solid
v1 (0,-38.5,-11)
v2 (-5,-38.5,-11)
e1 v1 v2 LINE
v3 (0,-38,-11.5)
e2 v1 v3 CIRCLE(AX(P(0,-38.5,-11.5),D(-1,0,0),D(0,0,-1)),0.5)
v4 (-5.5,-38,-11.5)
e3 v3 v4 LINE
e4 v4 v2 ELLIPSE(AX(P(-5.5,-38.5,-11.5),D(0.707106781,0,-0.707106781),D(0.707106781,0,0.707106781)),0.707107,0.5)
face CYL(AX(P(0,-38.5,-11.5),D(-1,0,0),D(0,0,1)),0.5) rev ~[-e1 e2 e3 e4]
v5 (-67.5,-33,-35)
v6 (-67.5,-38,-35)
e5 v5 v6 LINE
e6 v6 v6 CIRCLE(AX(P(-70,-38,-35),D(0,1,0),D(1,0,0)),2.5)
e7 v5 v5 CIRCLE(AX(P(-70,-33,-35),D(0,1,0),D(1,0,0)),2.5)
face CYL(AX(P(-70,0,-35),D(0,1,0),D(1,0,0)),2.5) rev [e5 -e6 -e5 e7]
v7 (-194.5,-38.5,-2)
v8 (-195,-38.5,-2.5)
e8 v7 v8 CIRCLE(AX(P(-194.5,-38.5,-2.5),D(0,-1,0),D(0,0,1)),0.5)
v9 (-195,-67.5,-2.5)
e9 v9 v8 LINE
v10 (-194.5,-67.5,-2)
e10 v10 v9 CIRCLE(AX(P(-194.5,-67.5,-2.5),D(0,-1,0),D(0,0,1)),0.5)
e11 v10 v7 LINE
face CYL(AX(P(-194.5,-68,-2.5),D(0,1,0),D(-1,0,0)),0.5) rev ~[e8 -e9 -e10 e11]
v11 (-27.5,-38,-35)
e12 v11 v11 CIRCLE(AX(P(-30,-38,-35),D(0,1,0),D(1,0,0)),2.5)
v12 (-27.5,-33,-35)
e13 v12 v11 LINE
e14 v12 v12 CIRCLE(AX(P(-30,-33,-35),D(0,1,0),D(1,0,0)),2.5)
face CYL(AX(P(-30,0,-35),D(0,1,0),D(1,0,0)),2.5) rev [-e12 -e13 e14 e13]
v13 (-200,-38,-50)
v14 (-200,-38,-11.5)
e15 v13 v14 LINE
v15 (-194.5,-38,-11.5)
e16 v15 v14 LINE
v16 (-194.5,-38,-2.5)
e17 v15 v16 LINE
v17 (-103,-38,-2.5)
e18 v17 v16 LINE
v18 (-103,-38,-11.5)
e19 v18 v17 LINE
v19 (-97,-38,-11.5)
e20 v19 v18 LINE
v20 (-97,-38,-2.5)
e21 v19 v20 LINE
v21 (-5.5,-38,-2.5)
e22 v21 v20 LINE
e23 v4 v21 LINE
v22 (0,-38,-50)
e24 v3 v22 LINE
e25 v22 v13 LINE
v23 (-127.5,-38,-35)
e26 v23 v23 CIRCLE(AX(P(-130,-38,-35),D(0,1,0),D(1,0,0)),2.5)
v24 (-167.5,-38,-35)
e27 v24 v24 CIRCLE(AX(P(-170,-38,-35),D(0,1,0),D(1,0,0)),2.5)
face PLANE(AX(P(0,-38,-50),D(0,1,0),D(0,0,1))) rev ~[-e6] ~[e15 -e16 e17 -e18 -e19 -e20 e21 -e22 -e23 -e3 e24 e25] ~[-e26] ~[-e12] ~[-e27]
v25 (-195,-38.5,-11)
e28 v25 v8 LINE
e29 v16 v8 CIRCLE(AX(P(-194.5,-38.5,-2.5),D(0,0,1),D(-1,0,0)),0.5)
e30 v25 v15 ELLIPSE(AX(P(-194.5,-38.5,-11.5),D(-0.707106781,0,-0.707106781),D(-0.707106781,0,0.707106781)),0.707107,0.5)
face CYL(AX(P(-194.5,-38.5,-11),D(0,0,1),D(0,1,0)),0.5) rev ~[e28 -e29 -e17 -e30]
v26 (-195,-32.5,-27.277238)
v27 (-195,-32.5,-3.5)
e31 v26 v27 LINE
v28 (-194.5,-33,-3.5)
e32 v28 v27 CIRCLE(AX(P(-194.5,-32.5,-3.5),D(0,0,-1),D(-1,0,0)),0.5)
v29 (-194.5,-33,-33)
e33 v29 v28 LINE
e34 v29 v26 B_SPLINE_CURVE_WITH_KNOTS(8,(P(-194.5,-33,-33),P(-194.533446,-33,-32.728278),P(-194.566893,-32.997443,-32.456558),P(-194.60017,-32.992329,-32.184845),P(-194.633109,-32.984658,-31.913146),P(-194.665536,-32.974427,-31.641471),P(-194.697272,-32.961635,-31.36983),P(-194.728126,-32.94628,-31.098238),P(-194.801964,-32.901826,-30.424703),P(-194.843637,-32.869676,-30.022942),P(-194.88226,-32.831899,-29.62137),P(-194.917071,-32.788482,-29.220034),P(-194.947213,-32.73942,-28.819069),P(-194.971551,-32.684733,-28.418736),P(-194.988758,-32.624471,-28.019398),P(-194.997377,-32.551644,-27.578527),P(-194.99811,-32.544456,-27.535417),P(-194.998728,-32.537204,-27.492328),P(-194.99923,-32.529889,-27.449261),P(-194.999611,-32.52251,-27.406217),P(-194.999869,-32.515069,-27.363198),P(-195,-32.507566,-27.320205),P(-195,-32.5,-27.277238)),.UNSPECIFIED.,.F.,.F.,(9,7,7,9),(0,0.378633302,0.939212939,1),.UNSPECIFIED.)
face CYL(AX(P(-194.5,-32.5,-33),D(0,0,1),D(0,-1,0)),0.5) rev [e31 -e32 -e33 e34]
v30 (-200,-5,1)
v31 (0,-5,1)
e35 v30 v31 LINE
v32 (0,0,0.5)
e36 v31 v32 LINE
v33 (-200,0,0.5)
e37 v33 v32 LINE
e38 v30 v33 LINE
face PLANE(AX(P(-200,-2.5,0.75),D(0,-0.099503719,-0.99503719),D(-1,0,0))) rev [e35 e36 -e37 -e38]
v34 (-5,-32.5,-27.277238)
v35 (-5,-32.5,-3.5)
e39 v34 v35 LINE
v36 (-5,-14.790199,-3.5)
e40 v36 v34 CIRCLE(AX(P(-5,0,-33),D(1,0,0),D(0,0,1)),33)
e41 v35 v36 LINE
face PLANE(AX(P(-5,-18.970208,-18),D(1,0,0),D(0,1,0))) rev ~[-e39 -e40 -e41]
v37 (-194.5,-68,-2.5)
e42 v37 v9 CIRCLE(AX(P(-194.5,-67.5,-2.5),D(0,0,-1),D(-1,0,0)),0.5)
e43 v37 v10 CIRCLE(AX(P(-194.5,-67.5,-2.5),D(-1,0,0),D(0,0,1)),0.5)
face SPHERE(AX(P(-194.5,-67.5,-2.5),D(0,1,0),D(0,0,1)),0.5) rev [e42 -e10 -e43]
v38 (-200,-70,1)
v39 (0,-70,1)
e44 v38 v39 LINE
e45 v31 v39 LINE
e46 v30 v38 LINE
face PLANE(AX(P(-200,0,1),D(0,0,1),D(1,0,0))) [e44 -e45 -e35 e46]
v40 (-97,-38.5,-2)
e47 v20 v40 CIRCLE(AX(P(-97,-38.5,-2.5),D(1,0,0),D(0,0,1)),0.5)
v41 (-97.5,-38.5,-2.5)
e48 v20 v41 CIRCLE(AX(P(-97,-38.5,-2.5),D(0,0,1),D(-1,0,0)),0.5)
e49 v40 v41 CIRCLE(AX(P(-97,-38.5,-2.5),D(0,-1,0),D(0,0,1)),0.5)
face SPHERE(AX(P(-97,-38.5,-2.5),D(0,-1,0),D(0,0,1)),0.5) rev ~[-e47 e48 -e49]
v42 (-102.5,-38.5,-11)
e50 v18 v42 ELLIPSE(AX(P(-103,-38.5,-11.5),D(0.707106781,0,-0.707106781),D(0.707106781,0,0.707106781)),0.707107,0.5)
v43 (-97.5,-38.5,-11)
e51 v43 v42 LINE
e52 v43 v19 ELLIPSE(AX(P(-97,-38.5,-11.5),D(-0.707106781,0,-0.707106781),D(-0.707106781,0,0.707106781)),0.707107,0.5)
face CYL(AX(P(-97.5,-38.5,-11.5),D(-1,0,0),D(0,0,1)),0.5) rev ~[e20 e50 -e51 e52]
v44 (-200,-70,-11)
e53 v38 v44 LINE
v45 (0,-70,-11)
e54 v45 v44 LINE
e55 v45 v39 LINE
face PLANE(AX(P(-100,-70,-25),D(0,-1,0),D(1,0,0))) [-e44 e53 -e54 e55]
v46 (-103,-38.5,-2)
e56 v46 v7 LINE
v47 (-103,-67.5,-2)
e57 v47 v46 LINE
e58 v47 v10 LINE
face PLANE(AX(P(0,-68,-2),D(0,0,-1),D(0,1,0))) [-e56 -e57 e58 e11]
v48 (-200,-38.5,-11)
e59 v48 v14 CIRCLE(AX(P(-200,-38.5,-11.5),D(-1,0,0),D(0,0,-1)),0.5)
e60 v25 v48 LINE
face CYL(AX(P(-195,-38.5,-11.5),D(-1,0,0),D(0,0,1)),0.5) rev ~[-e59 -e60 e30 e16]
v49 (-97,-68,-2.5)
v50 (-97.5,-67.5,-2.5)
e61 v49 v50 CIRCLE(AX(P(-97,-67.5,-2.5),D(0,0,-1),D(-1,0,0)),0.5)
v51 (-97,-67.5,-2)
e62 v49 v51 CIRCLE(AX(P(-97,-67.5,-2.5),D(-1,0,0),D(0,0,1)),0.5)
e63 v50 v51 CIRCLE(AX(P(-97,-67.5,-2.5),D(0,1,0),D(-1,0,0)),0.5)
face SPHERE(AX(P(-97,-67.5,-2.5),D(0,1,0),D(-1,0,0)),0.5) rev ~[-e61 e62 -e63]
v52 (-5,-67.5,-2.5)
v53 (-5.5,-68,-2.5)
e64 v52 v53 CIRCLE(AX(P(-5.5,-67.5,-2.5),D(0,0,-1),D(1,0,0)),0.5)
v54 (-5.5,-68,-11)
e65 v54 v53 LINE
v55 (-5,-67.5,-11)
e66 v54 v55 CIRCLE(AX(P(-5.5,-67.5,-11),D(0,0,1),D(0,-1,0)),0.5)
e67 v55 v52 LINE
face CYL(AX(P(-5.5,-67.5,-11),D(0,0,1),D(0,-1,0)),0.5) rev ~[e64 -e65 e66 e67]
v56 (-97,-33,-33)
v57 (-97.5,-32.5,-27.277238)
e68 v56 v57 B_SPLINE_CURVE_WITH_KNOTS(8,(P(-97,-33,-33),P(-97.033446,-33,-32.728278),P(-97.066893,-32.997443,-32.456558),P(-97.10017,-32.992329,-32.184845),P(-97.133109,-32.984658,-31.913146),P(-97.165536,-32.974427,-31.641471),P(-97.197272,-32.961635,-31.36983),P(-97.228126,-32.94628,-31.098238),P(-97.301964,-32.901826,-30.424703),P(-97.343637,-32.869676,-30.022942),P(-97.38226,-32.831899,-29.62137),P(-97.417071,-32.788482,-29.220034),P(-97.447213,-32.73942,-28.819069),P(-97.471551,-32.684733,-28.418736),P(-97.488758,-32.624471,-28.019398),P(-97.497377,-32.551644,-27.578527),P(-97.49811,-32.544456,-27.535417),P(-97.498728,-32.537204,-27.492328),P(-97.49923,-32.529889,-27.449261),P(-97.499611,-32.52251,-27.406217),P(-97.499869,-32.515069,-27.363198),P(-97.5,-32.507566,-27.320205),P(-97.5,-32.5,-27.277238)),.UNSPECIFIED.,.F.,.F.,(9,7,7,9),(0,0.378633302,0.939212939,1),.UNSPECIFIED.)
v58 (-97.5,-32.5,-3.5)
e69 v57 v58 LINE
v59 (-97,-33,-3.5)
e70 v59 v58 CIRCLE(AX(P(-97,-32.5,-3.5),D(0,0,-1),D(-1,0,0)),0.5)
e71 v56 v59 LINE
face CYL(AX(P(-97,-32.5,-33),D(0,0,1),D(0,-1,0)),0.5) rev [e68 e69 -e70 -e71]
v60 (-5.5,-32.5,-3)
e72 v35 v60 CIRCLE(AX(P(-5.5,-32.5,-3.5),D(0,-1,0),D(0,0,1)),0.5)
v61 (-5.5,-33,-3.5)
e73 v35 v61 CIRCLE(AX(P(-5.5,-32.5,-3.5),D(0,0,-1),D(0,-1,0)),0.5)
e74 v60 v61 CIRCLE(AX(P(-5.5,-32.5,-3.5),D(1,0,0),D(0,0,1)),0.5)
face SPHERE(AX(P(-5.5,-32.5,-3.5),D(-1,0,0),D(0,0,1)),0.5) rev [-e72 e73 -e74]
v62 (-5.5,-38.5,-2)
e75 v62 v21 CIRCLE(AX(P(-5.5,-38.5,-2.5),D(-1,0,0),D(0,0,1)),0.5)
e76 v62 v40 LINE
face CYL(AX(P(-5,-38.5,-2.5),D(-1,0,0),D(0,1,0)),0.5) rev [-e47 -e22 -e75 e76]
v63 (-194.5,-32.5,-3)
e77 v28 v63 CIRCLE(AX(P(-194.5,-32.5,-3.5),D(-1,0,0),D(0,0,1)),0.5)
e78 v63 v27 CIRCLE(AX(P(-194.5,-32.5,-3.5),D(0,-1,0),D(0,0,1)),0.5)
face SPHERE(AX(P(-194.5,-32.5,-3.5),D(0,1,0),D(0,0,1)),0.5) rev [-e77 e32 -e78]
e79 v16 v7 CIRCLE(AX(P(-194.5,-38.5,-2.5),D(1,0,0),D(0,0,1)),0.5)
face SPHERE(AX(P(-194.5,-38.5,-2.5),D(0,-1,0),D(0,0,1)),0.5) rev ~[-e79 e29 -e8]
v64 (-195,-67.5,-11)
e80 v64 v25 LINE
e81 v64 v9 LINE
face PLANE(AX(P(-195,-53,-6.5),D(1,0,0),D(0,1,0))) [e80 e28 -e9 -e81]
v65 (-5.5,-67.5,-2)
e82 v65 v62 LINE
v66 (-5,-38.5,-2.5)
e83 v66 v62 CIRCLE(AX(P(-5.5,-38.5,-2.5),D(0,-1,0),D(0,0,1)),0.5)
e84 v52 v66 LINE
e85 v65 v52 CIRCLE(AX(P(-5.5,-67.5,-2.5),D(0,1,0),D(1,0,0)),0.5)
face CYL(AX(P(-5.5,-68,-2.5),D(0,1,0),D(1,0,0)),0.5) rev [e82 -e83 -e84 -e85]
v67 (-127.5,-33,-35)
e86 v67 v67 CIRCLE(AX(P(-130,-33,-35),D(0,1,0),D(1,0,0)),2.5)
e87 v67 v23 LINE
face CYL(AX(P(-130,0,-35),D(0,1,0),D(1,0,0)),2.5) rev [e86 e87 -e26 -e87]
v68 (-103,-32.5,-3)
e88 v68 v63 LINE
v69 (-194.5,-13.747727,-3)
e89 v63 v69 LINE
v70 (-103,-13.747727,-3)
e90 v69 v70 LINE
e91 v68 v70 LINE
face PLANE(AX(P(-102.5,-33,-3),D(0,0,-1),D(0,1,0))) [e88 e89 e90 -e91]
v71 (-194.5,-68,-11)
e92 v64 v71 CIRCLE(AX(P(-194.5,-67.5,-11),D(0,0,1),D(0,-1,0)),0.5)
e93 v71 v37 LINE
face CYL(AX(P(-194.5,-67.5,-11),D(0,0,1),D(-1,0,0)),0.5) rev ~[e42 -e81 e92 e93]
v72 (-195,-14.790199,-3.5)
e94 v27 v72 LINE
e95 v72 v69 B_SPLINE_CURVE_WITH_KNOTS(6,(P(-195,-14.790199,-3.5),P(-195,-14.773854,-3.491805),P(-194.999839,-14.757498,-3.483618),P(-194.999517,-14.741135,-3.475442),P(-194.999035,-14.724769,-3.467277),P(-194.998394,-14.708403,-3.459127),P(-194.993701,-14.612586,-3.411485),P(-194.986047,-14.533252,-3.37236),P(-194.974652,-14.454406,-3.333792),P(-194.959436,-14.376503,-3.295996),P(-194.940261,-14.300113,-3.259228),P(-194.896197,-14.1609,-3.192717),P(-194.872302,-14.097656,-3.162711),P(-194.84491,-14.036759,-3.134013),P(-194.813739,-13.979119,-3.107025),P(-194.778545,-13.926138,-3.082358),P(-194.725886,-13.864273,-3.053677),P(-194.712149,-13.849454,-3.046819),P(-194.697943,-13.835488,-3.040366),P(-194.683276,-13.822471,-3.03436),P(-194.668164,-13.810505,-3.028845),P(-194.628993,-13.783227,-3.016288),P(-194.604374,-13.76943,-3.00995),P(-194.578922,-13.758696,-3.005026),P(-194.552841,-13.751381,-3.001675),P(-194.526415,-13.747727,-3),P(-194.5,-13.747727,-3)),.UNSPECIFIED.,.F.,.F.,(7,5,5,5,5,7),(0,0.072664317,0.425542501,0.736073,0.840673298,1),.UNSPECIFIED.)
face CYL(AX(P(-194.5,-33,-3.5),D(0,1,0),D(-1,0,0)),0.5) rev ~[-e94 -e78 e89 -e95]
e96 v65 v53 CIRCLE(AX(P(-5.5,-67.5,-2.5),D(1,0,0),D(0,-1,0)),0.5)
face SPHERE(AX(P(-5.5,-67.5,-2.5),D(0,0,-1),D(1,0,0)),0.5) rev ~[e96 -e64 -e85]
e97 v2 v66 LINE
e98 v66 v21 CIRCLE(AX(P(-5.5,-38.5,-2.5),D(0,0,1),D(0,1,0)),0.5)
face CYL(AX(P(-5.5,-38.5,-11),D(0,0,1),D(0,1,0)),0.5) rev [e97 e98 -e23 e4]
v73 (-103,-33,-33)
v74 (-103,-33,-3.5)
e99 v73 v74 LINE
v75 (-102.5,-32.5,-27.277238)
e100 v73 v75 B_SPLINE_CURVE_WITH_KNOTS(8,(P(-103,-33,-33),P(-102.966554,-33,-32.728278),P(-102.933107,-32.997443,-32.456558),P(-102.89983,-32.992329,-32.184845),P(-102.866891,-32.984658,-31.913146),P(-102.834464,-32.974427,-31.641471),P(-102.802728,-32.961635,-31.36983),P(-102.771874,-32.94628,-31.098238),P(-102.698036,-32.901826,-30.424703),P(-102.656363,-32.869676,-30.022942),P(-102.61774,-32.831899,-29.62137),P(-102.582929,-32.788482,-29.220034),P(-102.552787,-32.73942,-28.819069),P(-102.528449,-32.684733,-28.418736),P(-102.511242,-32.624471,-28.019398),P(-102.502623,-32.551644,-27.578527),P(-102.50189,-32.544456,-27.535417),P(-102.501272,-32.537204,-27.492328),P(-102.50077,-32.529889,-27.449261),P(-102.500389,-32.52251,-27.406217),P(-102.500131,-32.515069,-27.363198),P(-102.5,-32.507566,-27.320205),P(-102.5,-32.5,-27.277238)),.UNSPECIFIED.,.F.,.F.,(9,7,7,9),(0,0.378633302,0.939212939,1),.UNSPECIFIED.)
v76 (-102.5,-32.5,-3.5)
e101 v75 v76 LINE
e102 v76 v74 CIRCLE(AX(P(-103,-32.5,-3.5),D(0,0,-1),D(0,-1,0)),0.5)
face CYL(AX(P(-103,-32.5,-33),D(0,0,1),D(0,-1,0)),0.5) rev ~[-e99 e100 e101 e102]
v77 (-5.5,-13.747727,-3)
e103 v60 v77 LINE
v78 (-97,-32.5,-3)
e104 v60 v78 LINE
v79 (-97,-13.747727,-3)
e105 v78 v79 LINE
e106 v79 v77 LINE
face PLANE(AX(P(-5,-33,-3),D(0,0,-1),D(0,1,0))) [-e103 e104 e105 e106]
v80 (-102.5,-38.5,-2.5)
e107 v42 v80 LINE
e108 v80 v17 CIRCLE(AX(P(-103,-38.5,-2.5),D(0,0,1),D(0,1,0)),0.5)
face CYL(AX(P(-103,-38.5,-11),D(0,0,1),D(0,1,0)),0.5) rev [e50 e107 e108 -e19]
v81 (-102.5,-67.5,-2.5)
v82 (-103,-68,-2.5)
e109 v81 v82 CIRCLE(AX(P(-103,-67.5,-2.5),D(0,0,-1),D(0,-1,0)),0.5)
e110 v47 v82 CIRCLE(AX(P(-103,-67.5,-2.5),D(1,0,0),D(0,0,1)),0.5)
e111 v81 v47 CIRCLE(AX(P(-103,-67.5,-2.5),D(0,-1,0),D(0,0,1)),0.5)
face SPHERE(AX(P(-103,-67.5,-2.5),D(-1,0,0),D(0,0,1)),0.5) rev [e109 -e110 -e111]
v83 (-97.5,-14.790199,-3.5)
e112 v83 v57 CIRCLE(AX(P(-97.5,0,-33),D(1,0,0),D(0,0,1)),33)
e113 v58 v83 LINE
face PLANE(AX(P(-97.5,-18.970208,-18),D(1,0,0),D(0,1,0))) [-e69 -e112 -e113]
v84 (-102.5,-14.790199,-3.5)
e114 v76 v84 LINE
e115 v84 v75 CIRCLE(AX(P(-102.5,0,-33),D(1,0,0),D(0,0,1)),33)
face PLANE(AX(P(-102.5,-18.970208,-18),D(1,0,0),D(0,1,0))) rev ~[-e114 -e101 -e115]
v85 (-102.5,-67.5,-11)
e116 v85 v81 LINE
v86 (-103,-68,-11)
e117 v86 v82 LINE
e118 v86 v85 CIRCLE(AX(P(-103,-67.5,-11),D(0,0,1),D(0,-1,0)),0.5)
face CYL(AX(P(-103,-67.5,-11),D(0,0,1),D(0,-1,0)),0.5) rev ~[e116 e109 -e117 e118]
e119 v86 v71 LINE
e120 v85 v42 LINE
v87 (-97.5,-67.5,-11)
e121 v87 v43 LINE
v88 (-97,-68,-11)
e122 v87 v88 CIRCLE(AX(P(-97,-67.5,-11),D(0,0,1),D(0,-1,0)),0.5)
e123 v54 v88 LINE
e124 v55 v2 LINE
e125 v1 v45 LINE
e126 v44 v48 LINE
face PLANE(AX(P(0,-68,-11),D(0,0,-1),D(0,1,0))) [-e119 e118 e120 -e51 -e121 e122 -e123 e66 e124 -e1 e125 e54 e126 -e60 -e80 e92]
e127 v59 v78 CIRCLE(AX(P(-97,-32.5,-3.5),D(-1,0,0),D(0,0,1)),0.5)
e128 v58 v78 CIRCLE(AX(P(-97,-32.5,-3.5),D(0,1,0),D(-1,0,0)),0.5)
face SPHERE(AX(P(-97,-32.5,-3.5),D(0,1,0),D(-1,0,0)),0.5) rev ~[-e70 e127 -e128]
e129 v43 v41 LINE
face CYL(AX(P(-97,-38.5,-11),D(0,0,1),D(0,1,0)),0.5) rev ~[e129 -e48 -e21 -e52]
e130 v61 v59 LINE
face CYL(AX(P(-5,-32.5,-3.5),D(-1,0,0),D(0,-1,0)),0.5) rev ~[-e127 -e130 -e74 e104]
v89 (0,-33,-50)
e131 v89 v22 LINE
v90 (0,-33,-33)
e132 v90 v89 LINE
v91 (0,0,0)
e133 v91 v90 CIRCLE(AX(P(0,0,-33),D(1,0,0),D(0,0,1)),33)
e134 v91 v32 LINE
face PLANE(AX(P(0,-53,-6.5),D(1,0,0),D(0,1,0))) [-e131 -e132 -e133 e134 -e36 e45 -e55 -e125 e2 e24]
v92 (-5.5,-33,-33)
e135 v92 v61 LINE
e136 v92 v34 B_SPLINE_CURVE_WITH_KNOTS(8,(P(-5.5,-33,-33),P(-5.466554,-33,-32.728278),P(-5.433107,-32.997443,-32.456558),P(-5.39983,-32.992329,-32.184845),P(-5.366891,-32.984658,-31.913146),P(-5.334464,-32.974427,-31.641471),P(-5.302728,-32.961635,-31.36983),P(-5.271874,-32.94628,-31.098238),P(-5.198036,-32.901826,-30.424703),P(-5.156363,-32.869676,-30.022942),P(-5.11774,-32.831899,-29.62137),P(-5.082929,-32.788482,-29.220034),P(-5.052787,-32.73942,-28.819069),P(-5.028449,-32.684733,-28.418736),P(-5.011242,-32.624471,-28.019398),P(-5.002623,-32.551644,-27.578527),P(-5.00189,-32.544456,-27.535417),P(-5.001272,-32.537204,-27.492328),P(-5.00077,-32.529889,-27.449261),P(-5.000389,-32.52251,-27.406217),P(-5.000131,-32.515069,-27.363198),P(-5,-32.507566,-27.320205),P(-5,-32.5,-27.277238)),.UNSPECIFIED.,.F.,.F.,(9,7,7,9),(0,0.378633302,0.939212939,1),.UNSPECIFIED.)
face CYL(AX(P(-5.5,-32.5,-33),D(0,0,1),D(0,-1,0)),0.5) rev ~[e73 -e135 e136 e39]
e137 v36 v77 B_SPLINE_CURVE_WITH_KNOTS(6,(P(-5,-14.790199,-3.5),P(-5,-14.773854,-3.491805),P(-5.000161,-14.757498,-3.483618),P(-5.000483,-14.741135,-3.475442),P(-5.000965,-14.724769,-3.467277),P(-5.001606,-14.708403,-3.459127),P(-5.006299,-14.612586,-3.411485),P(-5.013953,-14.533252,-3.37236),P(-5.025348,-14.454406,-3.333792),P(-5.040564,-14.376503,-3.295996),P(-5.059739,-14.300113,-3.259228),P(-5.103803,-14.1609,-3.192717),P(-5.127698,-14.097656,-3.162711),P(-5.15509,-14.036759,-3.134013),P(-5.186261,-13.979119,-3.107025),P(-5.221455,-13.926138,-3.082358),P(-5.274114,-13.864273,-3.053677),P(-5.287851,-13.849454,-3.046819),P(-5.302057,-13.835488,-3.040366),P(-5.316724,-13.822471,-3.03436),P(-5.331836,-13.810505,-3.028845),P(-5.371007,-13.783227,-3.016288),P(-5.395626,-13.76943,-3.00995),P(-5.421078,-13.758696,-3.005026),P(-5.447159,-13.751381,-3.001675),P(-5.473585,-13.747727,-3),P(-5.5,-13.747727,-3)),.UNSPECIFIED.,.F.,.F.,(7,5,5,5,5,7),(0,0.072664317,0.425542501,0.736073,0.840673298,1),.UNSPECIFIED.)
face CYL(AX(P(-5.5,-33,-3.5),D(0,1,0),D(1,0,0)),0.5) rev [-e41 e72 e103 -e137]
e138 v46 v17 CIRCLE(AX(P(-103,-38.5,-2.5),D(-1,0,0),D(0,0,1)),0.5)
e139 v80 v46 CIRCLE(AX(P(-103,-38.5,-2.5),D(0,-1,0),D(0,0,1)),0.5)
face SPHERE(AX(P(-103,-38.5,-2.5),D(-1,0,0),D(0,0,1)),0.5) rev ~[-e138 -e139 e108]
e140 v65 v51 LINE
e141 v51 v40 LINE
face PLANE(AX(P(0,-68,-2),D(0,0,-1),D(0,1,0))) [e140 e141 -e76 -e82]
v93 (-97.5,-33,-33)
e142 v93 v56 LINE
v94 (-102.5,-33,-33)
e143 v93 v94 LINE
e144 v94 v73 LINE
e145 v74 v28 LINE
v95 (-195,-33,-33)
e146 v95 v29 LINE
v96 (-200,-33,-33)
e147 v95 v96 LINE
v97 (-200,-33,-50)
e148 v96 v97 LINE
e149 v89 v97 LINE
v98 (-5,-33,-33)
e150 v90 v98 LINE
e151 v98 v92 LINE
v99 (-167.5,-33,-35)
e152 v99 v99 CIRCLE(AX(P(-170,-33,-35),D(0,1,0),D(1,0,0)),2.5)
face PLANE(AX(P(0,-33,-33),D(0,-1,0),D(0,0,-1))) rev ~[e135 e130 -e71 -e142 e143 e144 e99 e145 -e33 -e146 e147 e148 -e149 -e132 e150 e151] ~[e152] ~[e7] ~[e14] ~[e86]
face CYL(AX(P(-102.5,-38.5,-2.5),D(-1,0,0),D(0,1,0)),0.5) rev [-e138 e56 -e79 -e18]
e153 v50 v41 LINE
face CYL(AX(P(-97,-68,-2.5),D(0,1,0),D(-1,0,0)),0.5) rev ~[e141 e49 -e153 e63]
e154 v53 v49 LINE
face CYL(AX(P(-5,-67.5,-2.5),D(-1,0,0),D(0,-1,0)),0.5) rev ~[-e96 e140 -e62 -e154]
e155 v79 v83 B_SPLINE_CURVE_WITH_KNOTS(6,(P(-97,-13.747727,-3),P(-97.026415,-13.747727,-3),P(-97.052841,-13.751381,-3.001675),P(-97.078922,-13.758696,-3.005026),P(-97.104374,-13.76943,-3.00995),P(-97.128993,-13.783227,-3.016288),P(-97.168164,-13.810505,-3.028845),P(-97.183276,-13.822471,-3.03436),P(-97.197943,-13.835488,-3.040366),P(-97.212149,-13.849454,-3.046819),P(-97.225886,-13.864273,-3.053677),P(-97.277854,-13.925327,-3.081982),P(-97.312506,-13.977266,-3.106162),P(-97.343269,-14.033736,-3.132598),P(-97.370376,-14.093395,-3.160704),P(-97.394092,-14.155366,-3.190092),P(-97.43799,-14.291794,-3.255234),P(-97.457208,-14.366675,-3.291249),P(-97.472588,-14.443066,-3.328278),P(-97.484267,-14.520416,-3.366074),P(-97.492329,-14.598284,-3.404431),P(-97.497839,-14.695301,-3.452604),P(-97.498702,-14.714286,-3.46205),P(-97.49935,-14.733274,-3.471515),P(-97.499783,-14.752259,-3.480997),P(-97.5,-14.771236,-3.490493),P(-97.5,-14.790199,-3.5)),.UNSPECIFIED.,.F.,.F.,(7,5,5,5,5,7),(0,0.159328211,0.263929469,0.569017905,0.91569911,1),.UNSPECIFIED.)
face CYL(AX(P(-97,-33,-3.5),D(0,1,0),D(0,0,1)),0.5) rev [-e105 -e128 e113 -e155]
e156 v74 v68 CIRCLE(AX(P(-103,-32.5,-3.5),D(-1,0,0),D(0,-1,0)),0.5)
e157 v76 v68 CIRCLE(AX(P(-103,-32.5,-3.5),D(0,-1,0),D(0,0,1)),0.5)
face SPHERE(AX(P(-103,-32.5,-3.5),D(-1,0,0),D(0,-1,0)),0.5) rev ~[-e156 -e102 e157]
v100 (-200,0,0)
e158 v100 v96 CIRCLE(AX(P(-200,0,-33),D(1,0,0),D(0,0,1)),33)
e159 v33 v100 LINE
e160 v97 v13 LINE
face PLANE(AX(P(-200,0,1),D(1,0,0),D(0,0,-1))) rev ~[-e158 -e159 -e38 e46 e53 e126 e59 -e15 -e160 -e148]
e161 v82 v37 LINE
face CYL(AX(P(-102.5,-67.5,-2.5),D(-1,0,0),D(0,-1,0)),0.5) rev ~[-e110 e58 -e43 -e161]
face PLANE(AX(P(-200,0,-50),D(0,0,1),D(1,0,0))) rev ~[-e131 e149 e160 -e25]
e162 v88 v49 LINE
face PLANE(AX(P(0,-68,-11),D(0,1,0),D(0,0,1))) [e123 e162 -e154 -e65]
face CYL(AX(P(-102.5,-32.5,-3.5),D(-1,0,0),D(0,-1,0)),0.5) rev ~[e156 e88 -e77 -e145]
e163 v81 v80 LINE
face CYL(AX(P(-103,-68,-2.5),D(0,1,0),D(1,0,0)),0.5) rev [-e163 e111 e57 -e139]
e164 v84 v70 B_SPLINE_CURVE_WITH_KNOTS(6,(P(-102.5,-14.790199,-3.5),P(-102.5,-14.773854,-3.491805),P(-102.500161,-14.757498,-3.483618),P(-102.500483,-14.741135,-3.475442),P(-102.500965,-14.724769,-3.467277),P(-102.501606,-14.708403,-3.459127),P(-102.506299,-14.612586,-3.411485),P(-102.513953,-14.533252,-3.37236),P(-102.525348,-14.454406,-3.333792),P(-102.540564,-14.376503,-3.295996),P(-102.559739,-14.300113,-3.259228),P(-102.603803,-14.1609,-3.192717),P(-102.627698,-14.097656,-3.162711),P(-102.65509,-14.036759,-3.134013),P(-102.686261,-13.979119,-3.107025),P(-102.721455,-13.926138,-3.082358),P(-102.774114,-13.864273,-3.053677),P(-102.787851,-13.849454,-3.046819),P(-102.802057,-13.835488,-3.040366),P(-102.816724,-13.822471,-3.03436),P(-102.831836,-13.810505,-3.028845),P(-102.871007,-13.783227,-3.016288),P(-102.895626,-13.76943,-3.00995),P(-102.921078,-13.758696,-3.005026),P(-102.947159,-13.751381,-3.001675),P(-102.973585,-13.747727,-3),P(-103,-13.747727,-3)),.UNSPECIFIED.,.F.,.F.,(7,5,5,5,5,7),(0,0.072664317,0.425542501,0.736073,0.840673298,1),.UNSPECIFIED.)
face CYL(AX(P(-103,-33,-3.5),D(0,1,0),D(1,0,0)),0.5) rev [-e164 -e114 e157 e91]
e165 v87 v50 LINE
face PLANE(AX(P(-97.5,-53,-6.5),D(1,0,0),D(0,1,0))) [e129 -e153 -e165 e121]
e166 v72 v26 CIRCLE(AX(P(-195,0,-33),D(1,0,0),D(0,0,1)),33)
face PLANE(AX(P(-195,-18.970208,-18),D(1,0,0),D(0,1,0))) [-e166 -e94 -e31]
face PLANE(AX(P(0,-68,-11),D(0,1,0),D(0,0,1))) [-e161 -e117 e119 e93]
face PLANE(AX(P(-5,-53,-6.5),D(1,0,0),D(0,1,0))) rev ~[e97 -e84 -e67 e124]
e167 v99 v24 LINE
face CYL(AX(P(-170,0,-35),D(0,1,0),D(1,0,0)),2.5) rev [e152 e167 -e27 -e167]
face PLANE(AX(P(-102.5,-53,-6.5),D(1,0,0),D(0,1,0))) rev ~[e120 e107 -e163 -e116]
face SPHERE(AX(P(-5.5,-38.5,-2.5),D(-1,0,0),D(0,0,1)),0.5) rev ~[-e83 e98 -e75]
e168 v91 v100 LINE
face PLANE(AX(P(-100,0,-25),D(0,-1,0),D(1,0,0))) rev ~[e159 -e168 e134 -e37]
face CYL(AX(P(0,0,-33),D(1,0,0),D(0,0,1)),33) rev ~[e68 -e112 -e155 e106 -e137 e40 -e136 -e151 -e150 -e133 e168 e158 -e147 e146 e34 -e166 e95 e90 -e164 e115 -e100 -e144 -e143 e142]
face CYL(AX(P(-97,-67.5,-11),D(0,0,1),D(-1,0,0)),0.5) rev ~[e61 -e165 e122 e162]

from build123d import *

# Parameters (mm, degrees)
F0_W      = 200
F0_H      = 50
F0_H_2    = 1
F1_DEPTH  = 70
F2_W      = 32
F2_H      = 39
F3_DEPTH  = 200
F5_DEPTH  = 200
F6_W      = 30
F6_H      = 9
F7_DEPTH  = 195
F8_DEPTH  = 5
F9_START  = -97.5
F9_DEPTH  = 5
F11_START = -5
F10_W     = 28.059584938
F10_H     = 30
F11_DEPTH = 92.5
F12_START = -102.5
F12_DEPTH = 92.5
F13_R     = 2.5
F14_DEPTH = 60
F15_R     = 0.5
F16_SIZE2 = 0.5
F16_SIZE  = 5


with BuildPart() as f1:
    # F0 (on Front) → F1 (new body)
    with BuildSketch(Plane.XZ):
        with Locations((-100, -25)):
            Rectangle(F0_W, F0_H)
        with Locations((-100, 0.5)):
            Rectangle(F0_W, F0_H_2)
    extrude(amount=F1_DEPTH)

    # F2 (on Right) → F3 (cut)
    with BuildSketch(Plane.YZ):
        with Locations((-54, -30.5)):
            Rectangle(F2_W, F2_H)
    extrude(amount=-F3_DEPTH, mode=Mode.SUBTRACT)

    # F4 (on Right) → F5 (cut)
    with BuildSketch(Plane.YZ):
        with BuildLine():
            Line((0, -50), (0, 0))
            ThreePointArc((0, 0), (-23.3345237792, -9.6654762208), (-33, -33))
            Line((-33, -33), (-33, -50))
            Line((-33, -50), (0, -50))
        make_face()
    extrude(amount=-F5_DEPTH, mode=Mode.SUBTRACT)

    # F6 (on Right) → F7 (cut)
    with BuildSketch(Plane.YZ):
        with Locations((-53, -6.5)):
            Rectangle(F6_W, F6_H)
    extrude(amount=-F7_DEPTH, mode=Mode.SUBTRACT)

    # F6 (on Right) → F8 (join)
    with BuildSketch(Plane.YZ):
        with Locations((-53, -6.5)):
            Rectangle(F6_W, F6_H)
    extrude(amount=-F8_DEPTH)

    # F6 (on Right) → F9 (join)
    with BuildSketch(Plane.YZ.offset(F9_START)):
        with Locations((-53, -6.5)):
            Rectangle(F6_W, F6_H)
    extrude(amount=-F9_DEPTH)

    # F10 (on Right) → F11 (cut)
    with BuildSketch(Plane.YZ.offset(F11_START)):
        with Locations((-18.970207531, -18)):
            Rectangle(F10_W, F10_H)
    extrude(amount=-F11_DEPTH, mode=Mode.SUBTRACT)

    # F10 (on Right) → F12 (cut)
    with BuildSketch(Plane.YZ.offset(F12_START)):
        with Locations((-18.970207531, -18)):
            Rectangle(F10_W, F10_H)
    extrude(amount=-F12_DEPTH, mode=Mode.SUBTRACT)

    # F13 (on Front) → F14 (cut)
    with BuildSketch(Plane.XZ):
        with Locations((-30, -35)):
            Circle(F13_R)
        with Locations((-70, -35)):
            Circle(F13_R)
        with Locations((-130, -35)):
            Circle(F13_R)
        with Locations((-170, -35)):
            Circle(F13_R)
    extrude(amount=F14_DEPTH, mode=Mode.SUBTRACT)

    # F15
    f15_edges = [f1.edges().sort_by_distance(p)[0] for p in [
        (-195, -23.373864, -3),
        (-148.75, -33, -3),
        (-195, -33, -18),
        (-97.5, -23.373864, -3),
        (-97.5, -33, -18),
        (-51.25, -33, -3),
        (-102.5, -33, -18),
        (-102.5, -23.373864, -3),
        (-5, -23.373864, -3),
        (-5, -33, -18),
        (-97.5, -53, -2),
        (-51.25, -38, -2),
        (-195, -53, -2),
        (-148.75, -38, -2),
        (-148.75, -68, -2),
        (-102.5, -53, -2),
        (-102.5, -68, -6.5),
        (-195, -68, -6.5),
        (-97.5, -68, -6.5),
        (-5, -68, -6.5),
        (-5, -53, -2),
        (-51.25, -68, -2),
        (-5, -38, -6.5),
        (-2.5, -38, -11),
        (-102.5, -38, -6.5),
        (-100, -38, -11),
        (-197.5, -38, -11),
        (-195, -38, -6.5),
        (-97.5, -38, -6.5),
    ]]
    fillet(f15_edges, radius=F15_R)

    # F16
    f16_edges = [f1.edges().sort_by_distance(p)[0] for p in [
        (-100, 0, 1),
    ]]
    f16_side = f1.faces().sort_by_distance((-100, -35, 1))[0]
    chamfer(f16_edges, length=F16_SIZE, length2=F16_SIZE2, reference=f16_side)


solid = f1.part
